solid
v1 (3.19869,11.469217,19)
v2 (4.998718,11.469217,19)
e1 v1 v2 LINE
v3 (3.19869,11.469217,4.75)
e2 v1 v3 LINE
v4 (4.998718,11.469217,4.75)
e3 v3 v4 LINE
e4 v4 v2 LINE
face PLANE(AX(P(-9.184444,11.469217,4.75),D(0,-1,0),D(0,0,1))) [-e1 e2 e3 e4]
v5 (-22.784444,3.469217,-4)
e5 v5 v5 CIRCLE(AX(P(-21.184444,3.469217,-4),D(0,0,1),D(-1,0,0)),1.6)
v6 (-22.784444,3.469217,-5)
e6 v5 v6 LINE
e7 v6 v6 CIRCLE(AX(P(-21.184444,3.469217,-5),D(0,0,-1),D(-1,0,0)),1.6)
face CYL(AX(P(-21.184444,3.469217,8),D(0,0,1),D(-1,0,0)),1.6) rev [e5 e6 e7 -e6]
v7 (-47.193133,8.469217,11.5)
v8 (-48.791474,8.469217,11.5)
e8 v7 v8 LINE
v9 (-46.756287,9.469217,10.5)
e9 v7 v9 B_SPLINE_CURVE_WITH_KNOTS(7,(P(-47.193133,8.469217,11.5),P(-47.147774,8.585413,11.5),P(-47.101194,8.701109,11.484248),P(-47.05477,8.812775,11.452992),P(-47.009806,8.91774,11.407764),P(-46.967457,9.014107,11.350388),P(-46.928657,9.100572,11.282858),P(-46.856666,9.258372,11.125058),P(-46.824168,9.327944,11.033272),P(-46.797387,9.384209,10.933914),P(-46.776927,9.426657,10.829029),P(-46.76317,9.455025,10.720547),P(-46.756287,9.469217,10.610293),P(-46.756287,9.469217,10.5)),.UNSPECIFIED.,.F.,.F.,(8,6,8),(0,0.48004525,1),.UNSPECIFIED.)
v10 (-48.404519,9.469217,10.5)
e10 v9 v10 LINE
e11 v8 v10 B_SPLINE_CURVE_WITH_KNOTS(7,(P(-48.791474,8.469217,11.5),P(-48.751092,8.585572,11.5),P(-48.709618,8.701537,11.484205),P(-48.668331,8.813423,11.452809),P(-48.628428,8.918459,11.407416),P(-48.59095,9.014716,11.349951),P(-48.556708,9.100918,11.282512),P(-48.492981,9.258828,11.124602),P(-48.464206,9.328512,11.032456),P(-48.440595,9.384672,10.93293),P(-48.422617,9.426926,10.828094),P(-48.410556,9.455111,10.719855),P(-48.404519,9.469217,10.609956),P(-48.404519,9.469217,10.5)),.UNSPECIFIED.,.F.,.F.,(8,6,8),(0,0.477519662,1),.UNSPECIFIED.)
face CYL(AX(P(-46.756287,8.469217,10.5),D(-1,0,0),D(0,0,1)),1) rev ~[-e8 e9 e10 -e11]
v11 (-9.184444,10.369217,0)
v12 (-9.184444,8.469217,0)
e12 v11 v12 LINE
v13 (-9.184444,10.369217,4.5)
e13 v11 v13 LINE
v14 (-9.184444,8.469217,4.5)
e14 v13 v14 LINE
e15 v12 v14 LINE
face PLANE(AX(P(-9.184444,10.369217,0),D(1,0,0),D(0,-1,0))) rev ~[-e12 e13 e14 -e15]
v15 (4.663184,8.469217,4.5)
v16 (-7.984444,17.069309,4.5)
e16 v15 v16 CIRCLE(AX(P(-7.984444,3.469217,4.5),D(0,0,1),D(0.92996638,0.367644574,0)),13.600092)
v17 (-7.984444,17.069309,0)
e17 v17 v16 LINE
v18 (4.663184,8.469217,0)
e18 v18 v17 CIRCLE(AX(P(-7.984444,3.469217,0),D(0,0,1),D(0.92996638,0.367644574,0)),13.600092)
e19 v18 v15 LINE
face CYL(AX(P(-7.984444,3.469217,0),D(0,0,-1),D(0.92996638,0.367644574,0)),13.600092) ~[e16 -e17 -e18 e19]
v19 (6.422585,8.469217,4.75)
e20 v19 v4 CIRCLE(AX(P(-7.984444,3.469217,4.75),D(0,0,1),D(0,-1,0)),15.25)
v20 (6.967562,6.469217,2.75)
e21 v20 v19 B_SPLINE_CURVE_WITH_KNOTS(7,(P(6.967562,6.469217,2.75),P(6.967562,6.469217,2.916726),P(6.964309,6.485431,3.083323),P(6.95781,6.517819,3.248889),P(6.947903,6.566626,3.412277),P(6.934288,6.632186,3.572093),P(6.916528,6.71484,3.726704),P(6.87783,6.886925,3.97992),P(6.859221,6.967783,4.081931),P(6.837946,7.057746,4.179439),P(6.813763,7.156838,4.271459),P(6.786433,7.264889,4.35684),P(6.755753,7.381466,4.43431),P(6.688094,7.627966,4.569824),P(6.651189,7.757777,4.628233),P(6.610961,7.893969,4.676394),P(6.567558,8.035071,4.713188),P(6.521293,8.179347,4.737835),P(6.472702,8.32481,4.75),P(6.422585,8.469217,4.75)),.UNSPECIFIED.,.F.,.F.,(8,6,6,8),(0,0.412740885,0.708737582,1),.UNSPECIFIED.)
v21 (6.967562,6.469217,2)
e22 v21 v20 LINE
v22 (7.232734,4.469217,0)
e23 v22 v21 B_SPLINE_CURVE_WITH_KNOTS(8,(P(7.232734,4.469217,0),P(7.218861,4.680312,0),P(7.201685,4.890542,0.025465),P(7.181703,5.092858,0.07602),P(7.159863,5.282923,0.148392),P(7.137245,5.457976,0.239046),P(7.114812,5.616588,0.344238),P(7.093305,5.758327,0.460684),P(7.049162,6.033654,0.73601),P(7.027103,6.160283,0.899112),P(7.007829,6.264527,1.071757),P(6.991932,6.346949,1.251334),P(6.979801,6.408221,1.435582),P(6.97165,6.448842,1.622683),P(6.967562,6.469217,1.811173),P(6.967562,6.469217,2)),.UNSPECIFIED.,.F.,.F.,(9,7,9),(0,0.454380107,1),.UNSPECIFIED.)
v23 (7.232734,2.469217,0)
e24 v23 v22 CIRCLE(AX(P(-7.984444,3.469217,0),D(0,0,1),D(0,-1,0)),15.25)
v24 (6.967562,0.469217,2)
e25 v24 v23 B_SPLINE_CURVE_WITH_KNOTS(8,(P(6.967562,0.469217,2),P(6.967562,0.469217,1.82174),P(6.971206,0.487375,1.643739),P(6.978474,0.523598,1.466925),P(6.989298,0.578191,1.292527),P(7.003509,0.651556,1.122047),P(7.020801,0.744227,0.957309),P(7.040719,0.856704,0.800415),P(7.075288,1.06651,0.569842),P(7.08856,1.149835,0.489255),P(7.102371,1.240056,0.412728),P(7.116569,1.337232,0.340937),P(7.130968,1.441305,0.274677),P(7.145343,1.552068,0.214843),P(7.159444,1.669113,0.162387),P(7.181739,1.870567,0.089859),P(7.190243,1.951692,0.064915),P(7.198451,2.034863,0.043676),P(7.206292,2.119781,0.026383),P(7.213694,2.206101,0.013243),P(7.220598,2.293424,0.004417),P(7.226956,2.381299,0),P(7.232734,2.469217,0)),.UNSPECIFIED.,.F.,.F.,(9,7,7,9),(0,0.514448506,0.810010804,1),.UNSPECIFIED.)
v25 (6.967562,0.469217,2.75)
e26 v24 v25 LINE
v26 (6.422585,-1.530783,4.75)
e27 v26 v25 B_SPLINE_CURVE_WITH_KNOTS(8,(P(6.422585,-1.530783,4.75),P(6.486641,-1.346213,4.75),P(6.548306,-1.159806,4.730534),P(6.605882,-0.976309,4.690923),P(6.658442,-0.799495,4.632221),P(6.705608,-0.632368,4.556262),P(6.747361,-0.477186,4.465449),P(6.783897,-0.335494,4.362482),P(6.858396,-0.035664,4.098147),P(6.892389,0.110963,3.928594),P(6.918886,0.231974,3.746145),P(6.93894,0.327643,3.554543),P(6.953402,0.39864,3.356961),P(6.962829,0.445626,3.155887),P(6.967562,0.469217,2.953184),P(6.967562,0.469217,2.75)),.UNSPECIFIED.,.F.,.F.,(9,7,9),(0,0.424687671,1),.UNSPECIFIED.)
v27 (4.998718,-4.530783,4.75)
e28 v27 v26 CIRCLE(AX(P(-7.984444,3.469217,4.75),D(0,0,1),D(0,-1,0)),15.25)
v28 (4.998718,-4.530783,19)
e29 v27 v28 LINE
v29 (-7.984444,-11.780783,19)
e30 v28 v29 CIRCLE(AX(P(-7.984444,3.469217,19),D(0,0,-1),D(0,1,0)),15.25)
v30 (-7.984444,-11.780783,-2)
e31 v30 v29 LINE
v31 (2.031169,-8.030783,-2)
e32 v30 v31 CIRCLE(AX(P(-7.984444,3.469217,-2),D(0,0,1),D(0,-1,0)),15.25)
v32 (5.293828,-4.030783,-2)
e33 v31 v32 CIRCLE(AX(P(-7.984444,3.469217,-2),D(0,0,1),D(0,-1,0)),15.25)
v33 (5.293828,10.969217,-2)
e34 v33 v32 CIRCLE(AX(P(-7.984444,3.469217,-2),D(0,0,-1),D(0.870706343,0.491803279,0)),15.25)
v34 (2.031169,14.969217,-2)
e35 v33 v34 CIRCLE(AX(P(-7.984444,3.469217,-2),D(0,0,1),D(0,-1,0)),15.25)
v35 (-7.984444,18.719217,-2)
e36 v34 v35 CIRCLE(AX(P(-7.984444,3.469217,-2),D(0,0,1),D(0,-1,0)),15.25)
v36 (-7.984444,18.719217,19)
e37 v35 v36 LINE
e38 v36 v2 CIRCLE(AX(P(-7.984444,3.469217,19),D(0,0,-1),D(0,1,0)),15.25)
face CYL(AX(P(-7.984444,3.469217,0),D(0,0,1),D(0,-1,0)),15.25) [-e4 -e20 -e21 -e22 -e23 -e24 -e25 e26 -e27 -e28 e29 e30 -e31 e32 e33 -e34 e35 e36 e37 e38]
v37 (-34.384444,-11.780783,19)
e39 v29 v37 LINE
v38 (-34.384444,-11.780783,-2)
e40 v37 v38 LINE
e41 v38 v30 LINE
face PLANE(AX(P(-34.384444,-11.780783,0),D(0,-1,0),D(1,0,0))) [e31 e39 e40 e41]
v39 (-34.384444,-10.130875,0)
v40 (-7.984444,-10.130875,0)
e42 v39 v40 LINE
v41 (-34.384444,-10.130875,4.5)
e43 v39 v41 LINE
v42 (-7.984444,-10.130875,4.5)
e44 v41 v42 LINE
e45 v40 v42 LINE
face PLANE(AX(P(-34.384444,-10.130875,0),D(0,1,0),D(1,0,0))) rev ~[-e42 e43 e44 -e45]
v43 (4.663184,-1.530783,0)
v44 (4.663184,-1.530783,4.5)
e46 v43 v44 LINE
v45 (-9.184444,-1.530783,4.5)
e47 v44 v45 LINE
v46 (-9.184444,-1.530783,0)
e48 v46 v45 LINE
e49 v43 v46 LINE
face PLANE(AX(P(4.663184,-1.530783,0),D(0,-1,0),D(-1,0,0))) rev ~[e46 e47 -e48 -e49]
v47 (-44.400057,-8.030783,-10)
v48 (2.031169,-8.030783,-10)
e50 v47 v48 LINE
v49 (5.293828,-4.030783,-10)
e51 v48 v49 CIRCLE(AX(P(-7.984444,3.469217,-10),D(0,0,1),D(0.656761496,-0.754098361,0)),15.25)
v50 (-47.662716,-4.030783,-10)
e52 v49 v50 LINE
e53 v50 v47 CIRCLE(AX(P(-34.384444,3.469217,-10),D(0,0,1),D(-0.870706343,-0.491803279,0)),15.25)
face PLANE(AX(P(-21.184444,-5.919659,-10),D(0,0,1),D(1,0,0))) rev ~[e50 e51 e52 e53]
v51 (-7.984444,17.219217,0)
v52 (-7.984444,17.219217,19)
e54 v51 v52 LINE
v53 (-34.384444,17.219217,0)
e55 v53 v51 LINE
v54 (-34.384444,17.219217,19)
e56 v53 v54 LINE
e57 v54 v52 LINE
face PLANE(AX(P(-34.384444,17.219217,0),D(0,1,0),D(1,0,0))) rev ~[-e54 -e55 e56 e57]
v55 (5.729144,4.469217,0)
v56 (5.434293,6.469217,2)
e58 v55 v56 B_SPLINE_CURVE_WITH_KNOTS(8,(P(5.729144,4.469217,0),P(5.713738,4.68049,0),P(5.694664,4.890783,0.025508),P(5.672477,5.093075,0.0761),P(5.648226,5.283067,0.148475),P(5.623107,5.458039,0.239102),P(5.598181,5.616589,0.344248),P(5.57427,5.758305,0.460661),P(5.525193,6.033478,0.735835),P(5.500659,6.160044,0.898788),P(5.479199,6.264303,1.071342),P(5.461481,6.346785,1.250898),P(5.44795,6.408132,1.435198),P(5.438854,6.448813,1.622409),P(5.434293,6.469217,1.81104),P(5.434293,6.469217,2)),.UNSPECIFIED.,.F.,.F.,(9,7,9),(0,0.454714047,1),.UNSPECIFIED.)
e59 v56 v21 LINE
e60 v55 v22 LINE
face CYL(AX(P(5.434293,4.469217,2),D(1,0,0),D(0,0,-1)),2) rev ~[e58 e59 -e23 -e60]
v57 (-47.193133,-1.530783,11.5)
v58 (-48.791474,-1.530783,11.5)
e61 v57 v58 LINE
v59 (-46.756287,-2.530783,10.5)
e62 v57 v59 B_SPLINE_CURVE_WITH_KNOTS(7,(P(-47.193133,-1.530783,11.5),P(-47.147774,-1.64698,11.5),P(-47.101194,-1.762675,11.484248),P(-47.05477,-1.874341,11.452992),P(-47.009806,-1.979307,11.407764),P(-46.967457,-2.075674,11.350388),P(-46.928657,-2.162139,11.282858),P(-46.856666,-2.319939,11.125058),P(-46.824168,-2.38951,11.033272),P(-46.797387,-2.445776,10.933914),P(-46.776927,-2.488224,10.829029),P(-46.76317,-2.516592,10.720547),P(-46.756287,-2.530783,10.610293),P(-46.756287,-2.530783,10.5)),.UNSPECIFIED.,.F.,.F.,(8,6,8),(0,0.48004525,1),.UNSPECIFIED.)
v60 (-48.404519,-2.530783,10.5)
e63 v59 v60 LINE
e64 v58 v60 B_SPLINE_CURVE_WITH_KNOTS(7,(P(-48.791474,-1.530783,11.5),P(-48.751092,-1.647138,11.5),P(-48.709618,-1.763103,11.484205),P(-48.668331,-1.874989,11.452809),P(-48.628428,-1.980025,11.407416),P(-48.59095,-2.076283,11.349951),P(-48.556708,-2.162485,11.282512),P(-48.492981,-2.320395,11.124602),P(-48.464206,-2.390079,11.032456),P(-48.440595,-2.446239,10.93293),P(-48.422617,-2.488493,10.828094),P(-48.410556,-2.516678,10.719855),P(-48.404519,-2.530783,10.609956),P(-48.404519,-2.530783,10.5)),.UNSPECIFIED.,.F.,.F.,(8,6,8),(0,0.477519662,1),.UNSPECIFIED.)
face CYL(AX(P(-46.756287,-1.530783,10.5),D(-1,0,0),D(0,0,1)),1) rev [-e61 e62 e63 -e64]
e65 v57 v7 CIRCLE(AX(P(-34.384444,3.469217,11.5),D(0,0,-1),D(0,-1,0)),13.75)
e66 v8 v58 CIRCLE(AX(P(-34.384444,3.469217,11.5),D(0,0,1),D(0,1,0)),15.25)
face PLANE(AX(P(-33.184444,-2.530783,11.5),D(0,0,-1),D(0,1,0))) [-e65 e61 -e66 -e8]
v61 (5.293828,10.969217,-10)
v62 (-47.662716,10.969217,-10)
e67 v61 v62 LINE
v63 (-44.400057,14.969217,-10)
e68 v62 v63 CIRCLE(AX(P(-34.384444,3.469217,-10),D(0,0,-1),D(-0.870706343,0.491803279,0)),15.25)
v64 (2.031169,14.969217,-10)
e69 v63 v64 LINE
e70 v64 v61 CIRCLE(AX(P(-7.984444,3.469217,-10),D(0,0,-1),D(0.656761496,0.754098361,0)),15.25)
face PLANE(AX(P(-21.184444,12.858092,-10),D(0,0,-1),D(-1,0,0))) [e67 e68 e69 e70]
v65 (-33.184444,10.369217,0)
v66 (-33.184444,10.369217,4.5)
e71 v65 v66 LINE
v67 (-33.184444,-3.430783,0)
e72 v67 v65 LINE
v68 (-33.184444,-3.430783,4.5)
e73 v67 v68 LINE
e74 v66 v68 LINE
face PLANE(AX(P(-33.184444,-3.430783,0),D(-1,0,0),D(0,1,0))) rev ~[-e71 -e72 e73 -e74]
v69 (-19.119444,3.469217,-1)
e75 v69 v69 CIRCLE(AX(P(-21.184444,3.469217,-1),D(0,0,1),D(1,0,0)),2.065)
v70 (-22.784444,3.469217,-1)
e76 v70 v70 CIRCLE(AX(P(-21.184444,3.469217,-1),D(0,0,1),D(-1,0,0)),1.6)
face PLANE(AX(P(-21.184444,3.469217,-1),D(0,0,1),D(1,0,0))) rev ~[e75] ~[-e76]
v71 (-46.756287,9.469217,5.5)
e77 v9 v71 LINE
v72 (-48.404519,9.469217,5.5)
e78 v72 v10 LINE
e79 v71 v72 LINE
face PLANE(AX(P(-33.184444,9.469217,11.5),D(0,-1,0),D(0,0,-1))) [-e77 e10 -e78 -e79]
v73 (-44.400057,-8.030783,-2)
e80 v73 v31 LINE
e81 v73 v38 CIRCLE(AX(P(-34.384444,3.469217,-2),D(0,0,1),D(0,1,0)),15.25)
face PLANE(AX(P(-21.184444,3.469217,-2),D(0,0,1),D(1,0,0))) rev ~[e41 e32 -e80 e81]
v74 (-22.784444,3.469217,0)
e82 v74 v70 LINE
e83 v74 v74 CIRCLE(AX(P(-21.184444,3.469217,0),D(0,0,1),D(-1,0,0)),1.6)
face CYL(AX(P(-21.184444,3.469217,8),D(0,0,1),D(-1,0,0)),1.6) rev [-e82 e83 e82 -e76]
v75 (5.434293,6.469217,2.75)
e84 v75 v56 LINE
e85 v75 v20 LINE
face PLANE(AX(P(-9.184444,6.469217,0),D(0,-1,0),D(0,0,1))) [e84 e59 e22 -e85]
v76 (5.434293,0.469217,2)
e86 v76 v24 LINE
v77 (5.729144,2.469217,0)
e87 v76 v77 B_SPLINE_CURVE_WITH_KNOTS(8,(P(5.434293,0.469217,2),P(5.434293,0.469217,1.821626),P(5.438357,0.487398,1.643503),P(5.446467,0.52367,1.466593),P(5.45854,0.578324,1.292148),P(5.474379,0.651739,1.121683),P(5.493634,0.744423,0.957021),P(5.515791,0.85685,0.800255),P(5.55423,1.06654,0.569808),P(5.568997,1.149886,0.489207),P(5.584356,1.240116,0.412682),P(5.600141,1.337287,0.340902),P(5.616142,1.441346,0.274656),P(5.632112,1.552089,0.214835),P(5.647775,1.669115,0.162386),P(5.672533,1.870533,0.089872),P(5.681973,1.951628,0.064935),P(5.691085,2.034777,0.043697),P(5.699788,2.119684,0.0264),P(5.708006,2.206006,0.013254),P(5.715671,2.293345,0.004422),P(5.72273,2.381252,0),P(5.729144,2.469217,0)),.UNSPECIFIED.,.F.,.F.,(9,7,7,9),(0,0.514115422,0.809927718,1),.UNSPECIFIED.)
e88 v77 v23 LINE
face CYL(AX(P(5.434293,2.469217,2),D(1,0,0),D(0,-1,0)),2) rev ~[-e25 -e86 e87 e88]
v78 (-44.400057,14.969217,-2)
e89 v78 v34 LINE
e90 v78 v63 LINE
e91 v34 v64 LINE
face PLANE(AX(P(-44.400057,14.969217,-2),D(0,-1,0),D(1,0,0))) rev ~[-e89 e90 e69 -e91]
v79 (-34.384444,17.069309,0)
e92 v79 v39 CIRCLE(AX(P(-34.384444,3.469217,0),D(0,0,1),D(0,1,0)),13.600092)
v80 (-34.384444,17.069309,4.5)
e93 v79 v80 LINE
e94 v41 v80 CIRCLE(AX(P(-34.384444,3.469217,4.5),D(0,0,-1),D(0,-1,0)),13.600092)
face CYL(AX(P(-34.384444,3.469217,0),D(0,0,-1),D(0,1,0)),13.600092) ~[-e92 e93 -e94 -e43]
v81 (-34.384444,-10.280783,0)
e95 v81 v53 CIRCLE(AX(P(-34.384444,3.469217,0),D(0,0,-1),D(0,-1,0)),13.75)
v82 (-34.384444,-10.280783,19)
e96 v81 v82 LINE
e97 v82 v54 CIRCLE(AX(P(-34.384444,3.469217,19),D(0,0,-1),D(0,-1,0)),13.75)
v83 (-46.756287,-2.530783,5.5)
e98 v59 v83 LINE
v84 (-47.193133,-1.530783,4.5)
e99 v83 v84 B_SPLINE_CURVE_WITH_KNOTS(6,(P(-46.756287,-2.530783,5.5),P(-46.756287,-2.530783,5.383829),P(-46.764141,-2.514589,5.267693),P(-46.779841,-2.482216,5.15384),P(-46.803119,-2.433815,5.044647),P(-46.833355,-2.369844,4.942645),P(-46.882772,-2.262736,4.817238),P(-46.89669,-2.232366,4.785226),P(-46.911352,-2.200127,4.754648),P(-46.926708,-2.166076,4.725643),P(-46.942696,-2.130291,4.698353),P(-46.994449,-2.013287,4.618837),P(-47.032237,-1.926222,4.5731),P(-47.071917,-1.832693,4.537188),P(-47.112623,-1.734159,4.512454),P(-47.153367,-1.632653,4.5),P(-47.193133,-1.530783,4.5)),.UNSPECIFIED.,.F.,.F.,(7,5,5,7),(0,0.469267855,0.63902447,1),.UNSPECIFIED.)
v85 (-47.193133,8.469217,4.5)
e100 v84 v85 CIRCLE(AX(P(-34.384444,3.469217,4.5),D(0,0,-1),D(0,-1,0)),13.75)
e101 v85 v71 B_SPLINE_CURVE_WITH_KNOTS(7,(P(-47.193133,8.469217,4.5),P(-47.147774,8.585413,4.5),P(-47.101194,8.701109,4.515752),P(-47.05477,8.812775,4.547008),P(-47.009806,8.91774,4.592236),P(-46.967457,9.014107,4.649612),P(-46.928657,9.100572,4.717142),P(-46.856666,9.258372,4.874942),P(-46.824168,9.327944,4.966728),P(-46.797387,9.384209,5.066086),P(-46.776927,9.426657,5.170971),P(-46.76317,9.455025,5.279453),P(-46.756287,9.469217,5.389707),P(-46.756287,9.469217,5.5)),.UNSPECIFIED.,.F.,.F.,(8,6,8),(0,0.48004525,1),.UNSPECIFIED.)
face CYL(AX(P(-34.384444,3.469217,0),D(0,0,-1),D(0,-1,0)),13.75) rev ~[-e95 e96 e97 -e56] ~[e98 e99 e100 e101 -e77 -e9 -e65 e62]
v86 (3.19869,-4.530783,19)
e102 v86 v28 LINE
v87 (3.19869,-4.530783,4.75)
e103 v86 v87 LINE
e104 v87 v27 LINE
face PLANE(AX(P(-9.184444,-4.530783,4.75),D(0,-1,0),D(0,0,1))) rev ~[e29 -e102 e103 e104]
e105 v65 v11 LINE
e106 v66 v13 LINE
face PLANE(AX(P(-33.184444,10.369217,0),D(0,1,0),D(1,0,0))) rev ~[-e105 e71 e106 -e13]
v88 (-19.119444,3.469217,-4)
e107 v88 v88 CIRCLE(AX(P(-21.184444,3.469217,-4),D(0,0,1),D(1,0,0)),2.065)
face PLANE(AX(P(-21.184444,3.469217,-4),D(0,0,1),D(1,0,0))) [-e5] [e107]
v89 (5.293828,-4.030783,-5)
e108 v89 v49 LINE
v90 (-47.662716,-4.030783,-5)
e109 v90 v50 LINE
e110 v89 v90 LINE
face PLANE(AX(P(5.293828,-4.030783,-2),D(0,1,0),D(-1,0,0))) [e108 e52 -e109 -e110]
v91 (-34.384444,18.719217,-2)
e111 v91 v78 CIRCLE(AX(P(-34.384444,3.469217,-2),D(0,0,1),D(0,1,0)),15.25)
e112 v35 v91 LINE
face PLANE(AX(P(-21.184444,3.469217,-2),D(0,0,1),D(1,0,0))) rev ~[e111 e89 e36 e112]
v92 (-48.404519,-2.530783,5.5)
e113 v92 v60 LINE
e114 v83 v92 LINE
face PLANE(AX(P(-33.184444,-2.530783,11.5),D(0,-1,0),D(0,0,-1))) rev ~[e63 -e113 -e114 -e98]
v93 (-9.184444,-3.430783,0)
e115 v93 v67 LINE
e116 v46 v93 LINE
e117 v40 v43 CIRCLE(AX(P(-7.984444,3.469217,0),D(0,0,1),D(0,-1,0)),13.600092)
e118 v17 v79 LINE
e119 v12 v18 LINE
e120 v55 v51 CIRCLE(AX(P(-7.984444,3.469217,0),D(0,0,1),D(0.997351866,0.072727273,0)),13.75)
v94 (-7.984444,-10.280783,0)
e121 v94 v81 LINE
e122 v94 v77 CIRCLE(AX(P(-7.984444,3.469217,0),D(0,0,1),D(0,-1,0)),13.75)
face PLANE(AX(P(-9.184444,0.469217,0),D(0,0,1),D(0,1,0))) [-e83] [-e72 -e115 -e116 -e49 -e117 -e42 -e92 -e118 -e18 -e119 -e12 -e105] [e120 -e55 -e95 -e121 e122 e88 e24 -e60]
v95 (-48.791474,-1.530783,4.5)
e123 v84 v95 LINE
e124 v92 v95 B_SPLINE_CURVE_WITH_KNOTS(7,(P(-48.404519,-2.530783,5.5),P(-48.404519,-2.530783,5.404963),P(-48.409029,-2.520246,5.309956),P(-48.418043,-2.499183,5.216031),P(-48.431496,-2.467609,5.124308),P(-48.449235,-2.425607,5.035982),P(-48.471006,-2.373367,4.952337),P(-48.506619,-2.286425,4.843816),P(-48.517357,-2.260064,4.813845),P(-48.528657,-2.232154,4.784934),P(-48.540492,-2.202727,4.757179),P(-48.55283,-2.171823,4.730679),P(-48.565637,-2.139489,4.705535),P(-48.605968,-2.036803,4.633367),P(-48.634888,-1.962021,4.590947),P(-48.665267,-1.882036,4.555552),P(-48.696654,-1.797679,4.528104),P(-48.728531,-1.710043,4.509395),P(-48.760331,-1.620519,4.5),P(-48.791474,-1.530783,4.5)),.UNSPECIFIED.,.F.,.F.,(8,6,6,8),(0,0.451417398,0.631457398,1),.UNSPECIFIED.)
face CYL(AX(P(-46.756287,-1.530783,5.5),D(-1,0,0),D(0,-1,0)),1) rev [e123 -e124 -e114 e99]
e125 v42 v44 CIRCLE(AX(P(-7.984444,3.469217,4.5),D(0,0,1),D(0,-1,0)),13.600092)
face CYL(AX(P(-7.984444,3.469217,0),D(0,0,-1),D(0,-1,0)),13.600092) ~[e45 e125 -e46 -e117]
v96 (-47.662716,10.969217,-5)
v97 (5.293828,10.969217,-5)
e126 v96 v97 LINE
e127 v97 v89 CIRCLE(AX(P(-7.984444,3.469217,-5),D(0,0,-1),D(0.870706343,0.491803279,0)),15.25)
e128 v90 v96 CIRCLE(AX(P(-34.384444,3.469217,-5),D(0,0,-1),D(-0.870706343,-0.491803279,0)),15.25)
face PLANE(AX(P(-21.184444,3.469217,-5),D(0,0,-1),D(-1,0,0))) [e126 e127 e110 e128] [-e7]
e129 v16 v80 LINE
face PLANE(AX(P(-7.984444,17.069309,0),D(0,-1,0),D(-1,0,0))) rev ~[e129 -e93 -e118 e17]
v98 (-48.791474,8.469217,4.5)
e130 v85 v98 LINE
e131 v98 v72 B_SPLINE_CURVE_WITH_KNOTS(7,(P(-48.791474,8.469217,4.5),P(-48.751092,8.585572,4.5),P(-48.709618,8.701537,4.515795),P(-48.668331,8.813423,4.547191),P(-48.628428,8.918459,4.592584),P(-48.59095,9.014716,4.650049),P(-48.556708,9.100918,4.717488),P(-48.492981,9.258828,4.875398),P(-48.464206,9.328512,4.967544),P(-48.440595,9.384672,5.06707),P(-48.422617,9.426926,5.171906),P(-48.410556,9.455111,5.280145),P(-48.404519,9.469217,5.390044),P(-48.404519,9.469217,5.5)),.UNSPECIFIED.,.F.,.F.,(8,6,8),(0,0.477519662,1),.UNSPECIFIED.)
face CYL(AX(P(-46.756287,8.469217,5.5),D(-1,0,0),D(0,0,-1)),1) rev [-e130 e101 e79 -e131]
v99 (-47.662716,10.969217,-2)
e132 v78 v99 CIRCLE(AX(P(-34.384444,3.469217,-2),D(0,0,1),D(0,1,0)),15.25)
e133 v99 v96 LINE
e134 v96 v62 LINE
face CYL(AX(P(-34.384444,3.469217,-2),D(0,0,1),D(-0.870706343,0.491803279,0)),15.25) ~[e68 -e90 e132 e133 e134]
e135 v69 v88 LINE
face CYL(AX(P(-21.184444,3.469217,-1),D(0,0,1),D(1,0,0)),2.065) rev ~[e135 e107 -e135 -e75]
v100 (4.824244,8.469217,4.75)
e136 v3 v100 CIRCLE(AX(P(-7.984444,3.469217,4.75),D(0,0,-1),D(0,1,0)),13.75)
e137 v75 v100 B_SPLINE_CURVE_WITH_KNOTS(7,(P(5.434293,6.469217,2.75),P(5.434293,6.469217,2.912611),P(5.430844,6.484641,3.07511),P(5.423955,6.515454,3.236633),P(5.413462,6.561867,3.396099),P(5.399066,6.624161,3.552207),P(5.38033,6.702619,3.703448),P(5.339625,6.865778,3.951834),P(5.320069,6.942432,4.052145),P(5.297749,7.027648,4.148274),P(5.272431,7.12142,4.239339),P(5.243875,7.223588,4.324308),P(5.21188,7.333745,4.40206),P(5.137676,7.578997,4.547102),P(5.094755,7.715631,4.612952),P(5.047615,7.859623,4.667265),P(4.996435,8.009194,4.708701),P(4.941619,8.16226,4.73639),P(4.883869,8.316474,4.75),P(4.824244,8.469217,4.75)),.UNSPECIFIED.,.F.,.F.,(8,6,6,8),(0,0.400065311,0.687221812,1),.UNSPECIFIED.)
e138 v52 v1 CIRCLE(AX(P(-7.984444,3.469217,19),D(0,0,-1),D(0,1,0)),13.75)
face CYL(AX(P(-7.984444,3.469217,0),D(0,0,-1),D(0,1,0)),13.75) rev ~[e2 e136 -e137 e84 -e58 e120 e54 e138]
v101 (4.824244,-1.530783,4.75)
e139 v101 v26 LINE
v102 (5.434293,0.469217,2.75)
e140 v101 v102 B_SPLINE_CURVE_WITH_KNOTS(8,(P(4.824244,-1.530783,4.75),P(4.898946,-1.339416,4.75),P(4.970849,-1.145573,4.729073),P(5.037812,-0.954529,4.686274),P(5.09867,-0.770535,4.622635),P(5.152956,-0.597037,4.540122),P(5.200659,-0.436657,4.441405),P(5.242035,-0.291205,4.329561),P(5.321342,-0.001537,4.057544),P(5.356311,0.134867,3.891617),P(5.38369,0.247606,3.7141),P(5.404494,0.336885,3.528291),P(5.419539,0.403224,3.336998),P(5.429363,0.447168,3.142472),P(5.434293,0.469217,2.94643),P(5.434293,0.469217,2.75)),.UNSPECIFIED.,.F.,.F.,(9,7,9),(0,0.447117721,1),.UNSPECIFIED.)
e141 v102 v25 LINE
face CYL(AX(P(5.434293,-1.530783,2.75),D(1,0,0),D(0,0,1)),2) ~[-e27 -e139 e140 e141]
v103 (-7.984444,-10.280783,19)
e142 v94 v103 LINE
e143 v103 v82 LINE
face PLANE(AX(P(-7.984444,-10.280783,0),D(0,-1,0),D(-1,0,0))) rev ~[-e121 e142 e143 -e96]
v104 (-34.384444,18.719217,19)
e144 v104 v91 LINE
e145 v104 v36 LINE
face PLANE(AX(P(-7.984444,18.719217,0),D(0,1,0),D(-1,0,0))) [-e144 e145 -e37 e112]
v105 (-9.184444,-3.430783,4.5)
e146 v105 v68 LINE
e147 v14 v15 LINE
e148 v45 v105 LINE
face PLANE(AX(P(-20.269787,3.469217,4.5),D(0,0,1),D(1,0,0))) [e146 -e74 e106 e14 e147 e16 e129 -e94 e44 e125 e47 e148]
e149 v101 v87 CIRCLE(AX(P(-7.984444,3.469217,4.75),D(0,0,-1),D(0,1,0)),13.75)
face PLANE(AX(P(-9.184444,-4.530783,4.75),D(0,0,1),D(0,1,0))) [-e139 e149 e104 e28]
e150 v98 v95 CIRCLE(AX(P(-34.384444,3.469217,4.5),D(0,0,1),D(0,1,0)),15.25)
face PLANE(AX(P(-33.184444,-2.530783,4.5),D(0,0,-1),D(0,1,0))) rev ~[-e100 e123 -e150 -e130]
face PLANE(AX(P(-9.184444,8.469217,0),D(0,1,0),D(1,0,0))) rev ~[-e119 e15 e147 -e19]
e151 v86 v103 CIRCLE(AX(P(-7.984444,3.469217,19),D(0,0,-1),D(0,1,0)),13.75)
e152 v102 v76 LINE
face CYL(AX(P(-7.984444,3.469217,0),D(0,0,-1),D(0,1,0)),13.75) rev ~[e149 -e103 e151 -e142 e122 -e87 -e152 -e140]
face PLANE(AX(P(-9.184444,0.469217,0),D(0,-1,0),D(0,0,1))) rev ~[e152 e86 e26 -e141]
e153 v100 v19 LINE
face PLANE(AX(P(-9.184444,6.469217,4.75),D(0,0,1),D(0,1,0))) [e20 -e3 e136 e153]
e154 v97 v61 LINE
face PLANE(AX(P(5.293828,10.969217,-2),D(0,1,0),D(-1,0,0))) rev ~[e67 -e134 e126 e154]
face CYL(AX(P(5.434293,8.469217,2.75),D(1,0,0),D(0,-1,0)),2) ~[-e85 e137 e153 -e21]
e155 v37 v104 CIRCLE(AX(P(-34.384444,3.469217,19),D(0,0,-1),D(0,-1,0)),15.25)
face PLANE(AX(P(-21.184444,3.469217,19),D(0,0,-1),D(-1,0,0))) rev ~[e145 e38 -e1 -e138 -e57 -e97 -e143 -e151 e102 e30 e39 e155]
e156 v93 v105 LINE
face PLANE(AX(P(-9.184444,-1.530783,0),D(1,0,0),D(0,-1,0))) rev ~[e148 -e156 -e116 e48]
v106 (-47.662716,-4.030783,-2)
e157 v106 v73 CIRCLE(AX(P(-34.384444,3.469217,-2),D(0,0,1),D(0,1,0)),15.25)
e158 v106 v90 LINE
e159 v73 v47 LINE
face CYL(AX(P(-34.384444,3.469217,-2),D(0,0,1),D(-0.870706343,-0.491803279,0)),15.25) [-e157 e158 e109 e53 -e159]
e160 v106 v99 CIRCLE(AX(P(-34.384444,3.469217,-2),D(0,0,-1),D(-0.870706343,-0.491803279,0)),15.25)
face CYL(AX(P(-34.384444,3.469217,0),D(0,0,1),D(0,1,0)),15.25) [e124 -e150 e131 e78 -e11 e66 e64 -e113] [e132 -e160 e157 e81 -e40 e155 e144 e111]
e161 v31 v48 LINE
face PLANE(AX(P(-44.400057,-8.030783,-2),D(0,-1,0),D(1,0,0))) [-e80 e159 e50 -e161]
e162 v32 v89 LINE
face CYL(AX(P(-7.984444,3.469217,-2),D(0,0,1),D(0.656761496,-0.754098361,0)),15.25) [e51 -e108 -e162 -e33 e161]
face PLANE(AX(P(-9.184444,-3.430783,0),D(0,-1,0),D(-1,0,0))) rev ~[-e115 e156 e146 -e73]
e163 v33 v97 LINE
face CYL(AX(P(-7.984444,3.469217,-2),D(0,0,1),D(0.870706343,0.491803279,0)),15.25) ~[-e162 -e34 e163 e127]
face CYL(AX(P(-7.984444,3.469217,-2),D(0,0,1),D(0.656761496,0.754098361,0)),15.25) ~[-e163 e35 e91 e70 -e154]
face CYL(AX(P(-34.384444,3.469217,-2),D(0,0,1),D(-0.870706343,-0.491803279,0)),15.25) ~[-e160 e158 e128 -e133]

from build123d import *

# Parameters (mm, degrees)
BOSS_EXTRUDE1_DEPTH = 19
BOSS_EXTRUDE2_DEPTH = 2
BOSS_EXTRUDE3_DEPTH = 4.5
SKETCH4_W           = 4.75
SKETCH4_H           = 6
SKETCH4_W_2         = 14.25
SKETCH4_H_2         = 16
CUT_EXTRUDE1_DEPTH  = 49.452157546
SKETCH5_W           = 7
SKETCH5_H           = 12
CUT_EXTRUDE2_DEPTH  = 49.452157546
FILLET1_R           = 1
SKETCH6_R           = 1.6
BOSS_EXTRUDE4_DEPTH = 3
BOSS_EXTRUDE7_DEPTH = 8
FILLET2_R           = 2
CUT_EXTRUDE3_START  = -10
SKETCH9_R           = 1.6
CUT_EXTRUDE3_DEPTH  = 10
CUT_EXTRUDE4_START  = -1
SKETCH11_R          = 2.065
CUT_EXTRUDE4_DEPTH  = 3


with BuildPart() as part:
    # Sketch1 → Boss-Extrude1 (new body)
    with BuildSketch(Plane.XY):
        with BuildLine():
            Line((-34.384444189, 18.719216619), (-7.984444189, 18.719216619))
            ThreePointArc((-7.984444189, 18.719216619), (7.265555811, 3.469216619), (-7.984444189, -11.780783381))
            Line((-7.984444189, -11.780783381), (-34.384444189, -11.780783381))
            ThreePointArc((-34.384444189, -11.780783381), (-49.634444189, 3.469216619), (-34.384444189, 18.719216619))
        make_face()
        with BuildLine():
            Line((-34.384444189, 17.219216619), (-7.984444189, 17.219216619))
            ThreePointArc((-7.984444189, 17.219216619), (5.765555811, 3.469216619), (-7.984444189, -10.280783381))
            Line((-7.984444189, -10.280783381), (-34.384444189, -10.280783381))
            ThreePointArc((-34.384444189, -10.280783381), (-48.134444189, 3.469216619), (-34.384444189, 17.219216619))
        make_face(mode=Mode.SUBTRACT)
    extrude(amount=BOSS_EXTRUDE1_DEPTH)



with BuildPart() as body_2:
    # Sketch2 → Boss-Extrude2 (new body)
    with BuildSketch(Plane(origin=(0, 0, 0), x_dir=(-1, 0, 0), z_dir=(0, 0, -1))):
        with BuildLine():
            Line((34.384444189, -11.780783381), (7.984444189, -11.780783381))
            ThreePointArc((7.984444189, -11.780783381), (-7.265555811, 3.469216619), (7.984444189, 18.719216619))
            Line((7.984444189, 18.719216619), (34.384444189, 18.719216619))
            ThreePointArc((34.384444189, 18.719216619), (49.634444189, 3.469216619), (34.384444189, -11.780783381))
        make_face()
    extrude(amount=BOSS_EXTRUDE2_DEPTH)


with BuildPart() as part_1:
    add(part.part)

    add(body_2.part)  # Boss-Extrude3 merges body 2
    # Sketch3 → Boss-Extrude3 (add)
    with BuildSketch(Plane.XY):
        with BuildLine():
            Line((-22.664695889, -3.430783381), (-33.184444189, -3.430783381))
            Line((-33.184444189, -3.430783381), (-33.184444189, 10.369216619))
            Line((-33.184444189, 10.369216619), (-19.704192488, 10.369216619))
            Line((-19.704192488, 10.369216619), (-9.184444189, 10.369216619))
            Line((-9.184444189, 10.369216619), (-9.184444189, 8.469216619))
            Line((-9.184444189, 8.469216619), (4.663184056, 8.469216619))
            ThreePointArc((4.663184056, 8.469216619), (-0.337155761, 14.715615149), (-7.984444189, 17.069308538))
            Line((-7.984444189, 17.069308538), (-34.384444189, 17.069308538))
            ThreePointArc((-34.384444189, 17.069308538), (-47.984536108, 3.469216619), (-34.384444189, -10.1308753))
            Line((-34.384444189, -10.1308753), (-7.984444189, -10.1308753))
            ThreePointArc((-7.984444189, -10.1308753), (-0.337155761, -7.777181911), (4.663184056, -1.530783381))
            Line((4.663184056, -1.530783381), (-9.184444189, -1.530783381))
            Line((-9.184444189, -1.530783381), (-9.184444189, -3.430783381))
            Line((-9.184444189, -3.430783381), (-19.704192488, -3.430783381))
            Line((-19.704192488, -3.430783381), (-22.664695889, -3.430783381))
        make_face()
    extrude(amount=BOSS_EXTRUDE3_DEPTH)

    # Sketch4 → Cut-Extrude1 (cut, through all)
    with BuildSketch(Plane.ZY.offset(9.184444189)):
        with Locations((2.375, 3.469216619)):
            Rectangle(SKETCH4_W, SKETCH4_H)
        with Locations((11.875, 3.469216619)):
            Rectangle(SKETCH4_W_2, SKETCH4_H_2)
    extrude(amount=-CUT_EXTRUDE1_DEPTH, mode=Mode.SUBTRACT)

    # Sketch5 → Cut-Extrude2 (cut, through all)
    with BuildSketch(Plane(origin=(-33.184444189, 0, 0), x_dir=(0, 0, -1), z_dir=(1, 0, 0))):
        with Locations((-8, 3.469216619)):
            Rectangle(SKETCH5_W, SKETCH5_H)
    extrude(amount=-CUT_EXTRUDE2_DEPTH, mode=Mode.SUBTRACT)

    # Fillet1
    fillet1_edges = [part_1.edges().sort_by_distance(p)[0] for p in [
        (-47.580403151, -2.530783381, 11.5),
        (-47.580403151, 9.469216619, 11.5),
        (-47.580403151, 9.469216619, 4.5),
        (-47.580403151, -2.530783381, 4.5),
    ]]
    fillet(fillet1_edges, radius=FILLET1_R)

    # Sketch6 → Boss-Extrude4 (add)
    with BuildSketch(Plane(origin=(0, 0, -2), x_dir=(-1, 0, 0), z_dir=(0, 0, -1))):
        with BuildLine():
            ThreePointArc((47.662715914, -4.030783381), (49.634444189, 3.469216619), (47.662715914, 10.969216619))
            Line((47.662715914, 10.969216619), (-5.293827536, 10.969216619))
            ThreePointArc((-5.293827536, 10.969216619), (-7.265555811, 3.469216619), (-5.293827536, -4.030783381))
            Line((-5.293827536, -4.030783381), (47.662715914, -4.030783381))
        make_face()
        with Locations((21.184444189, 3.469216619)):
            Circle(SKETCH6_R, mode=Mode.SUBTRACT)
    extrude(amount=BOSS_EXTRUDE4_DEPTH)

    # Sketch10 → Boss-Extrude7 (add)
    with BuildSketch(Plane(origin=(0, 0, -2), x_dir=(-1, 0, 0), z_dir=(0, 0, -1))):
        with BuildLine():
            Line((-5.293827536, -4.030783381), (47.662715914, -4.030783381))
            ThreePointArc((47.662715914, -4.030783381), (46.201857789, -6.169830834), (44.400057001, -8.030783381))
            Line((44.400057001, -8.030783381), (-2.031168623, -8.030783381))
            ThreePointArc((-2.031168623, -8.030783381), (-3.832969412, -6.169830834), (-5.293827536, -4.030783381))
        make_face()
        with BuildLine():
            Line((-5.293827536, 10.969216619), (47.662715914, 10.969216619))
            ThreePointArc((47.662715914, 10.969216619), (46.201857789, 13.108264072), (44.400057001, 14.969216619))
            Line((44.400057001, 14.969216619), (-2.031168623, 14.969216619))
            ThreePointArc((-2.031168623, 14.969216619), (-3.832969412, 13.108264072), (-5.293827536, 10.969216619))
        make_face()
    extrude(amount=BOSS_EXTRUDE7_DEPTH)

    # Fillet2
    fillet2_edges = [part_1.edges().sort_by_distance(p)[0] for p in [
        (6.200927538, 0.469216619, 0),
        (6.200927538, 6.469216619, 0),
        (6.200927538, 6.469216619, 4.75),
        (6.200927538, 0.469216619, 4.75),
    ]]
    fillet(fillet2_edges, radius=FILLET2_R)

    # Sketch9 → Cut-Extrude3 (cut)
    with BuildSketch(Plane(origin=(0, 0, -2), x_dir=(-1, 0, 0), z_dir=(0, 0, -1)).offset(CUT_EXTRUDE3_START)):
        with Locations((21.184444189, 3.469216619)):
            Circle(SKETCH9_R)
    extrude(amount=CUT_EXTRUDE3_DEPTH, mode=Mode.SUBTRACT)

    # Sketch11 → Cut-Extrude4 (cut)
    with BuildSketch(Plane.XY.offset(CUT_EXTRUDE4_START)):
        with Locations((-21.184444189, 3.469216619)):
            Circle(SKETCH11_R)
    extrude(amount=-CUT_EXTRUDE4_DEPTH, mode=Mode.SUBTRACT)


solid = part_1.part
